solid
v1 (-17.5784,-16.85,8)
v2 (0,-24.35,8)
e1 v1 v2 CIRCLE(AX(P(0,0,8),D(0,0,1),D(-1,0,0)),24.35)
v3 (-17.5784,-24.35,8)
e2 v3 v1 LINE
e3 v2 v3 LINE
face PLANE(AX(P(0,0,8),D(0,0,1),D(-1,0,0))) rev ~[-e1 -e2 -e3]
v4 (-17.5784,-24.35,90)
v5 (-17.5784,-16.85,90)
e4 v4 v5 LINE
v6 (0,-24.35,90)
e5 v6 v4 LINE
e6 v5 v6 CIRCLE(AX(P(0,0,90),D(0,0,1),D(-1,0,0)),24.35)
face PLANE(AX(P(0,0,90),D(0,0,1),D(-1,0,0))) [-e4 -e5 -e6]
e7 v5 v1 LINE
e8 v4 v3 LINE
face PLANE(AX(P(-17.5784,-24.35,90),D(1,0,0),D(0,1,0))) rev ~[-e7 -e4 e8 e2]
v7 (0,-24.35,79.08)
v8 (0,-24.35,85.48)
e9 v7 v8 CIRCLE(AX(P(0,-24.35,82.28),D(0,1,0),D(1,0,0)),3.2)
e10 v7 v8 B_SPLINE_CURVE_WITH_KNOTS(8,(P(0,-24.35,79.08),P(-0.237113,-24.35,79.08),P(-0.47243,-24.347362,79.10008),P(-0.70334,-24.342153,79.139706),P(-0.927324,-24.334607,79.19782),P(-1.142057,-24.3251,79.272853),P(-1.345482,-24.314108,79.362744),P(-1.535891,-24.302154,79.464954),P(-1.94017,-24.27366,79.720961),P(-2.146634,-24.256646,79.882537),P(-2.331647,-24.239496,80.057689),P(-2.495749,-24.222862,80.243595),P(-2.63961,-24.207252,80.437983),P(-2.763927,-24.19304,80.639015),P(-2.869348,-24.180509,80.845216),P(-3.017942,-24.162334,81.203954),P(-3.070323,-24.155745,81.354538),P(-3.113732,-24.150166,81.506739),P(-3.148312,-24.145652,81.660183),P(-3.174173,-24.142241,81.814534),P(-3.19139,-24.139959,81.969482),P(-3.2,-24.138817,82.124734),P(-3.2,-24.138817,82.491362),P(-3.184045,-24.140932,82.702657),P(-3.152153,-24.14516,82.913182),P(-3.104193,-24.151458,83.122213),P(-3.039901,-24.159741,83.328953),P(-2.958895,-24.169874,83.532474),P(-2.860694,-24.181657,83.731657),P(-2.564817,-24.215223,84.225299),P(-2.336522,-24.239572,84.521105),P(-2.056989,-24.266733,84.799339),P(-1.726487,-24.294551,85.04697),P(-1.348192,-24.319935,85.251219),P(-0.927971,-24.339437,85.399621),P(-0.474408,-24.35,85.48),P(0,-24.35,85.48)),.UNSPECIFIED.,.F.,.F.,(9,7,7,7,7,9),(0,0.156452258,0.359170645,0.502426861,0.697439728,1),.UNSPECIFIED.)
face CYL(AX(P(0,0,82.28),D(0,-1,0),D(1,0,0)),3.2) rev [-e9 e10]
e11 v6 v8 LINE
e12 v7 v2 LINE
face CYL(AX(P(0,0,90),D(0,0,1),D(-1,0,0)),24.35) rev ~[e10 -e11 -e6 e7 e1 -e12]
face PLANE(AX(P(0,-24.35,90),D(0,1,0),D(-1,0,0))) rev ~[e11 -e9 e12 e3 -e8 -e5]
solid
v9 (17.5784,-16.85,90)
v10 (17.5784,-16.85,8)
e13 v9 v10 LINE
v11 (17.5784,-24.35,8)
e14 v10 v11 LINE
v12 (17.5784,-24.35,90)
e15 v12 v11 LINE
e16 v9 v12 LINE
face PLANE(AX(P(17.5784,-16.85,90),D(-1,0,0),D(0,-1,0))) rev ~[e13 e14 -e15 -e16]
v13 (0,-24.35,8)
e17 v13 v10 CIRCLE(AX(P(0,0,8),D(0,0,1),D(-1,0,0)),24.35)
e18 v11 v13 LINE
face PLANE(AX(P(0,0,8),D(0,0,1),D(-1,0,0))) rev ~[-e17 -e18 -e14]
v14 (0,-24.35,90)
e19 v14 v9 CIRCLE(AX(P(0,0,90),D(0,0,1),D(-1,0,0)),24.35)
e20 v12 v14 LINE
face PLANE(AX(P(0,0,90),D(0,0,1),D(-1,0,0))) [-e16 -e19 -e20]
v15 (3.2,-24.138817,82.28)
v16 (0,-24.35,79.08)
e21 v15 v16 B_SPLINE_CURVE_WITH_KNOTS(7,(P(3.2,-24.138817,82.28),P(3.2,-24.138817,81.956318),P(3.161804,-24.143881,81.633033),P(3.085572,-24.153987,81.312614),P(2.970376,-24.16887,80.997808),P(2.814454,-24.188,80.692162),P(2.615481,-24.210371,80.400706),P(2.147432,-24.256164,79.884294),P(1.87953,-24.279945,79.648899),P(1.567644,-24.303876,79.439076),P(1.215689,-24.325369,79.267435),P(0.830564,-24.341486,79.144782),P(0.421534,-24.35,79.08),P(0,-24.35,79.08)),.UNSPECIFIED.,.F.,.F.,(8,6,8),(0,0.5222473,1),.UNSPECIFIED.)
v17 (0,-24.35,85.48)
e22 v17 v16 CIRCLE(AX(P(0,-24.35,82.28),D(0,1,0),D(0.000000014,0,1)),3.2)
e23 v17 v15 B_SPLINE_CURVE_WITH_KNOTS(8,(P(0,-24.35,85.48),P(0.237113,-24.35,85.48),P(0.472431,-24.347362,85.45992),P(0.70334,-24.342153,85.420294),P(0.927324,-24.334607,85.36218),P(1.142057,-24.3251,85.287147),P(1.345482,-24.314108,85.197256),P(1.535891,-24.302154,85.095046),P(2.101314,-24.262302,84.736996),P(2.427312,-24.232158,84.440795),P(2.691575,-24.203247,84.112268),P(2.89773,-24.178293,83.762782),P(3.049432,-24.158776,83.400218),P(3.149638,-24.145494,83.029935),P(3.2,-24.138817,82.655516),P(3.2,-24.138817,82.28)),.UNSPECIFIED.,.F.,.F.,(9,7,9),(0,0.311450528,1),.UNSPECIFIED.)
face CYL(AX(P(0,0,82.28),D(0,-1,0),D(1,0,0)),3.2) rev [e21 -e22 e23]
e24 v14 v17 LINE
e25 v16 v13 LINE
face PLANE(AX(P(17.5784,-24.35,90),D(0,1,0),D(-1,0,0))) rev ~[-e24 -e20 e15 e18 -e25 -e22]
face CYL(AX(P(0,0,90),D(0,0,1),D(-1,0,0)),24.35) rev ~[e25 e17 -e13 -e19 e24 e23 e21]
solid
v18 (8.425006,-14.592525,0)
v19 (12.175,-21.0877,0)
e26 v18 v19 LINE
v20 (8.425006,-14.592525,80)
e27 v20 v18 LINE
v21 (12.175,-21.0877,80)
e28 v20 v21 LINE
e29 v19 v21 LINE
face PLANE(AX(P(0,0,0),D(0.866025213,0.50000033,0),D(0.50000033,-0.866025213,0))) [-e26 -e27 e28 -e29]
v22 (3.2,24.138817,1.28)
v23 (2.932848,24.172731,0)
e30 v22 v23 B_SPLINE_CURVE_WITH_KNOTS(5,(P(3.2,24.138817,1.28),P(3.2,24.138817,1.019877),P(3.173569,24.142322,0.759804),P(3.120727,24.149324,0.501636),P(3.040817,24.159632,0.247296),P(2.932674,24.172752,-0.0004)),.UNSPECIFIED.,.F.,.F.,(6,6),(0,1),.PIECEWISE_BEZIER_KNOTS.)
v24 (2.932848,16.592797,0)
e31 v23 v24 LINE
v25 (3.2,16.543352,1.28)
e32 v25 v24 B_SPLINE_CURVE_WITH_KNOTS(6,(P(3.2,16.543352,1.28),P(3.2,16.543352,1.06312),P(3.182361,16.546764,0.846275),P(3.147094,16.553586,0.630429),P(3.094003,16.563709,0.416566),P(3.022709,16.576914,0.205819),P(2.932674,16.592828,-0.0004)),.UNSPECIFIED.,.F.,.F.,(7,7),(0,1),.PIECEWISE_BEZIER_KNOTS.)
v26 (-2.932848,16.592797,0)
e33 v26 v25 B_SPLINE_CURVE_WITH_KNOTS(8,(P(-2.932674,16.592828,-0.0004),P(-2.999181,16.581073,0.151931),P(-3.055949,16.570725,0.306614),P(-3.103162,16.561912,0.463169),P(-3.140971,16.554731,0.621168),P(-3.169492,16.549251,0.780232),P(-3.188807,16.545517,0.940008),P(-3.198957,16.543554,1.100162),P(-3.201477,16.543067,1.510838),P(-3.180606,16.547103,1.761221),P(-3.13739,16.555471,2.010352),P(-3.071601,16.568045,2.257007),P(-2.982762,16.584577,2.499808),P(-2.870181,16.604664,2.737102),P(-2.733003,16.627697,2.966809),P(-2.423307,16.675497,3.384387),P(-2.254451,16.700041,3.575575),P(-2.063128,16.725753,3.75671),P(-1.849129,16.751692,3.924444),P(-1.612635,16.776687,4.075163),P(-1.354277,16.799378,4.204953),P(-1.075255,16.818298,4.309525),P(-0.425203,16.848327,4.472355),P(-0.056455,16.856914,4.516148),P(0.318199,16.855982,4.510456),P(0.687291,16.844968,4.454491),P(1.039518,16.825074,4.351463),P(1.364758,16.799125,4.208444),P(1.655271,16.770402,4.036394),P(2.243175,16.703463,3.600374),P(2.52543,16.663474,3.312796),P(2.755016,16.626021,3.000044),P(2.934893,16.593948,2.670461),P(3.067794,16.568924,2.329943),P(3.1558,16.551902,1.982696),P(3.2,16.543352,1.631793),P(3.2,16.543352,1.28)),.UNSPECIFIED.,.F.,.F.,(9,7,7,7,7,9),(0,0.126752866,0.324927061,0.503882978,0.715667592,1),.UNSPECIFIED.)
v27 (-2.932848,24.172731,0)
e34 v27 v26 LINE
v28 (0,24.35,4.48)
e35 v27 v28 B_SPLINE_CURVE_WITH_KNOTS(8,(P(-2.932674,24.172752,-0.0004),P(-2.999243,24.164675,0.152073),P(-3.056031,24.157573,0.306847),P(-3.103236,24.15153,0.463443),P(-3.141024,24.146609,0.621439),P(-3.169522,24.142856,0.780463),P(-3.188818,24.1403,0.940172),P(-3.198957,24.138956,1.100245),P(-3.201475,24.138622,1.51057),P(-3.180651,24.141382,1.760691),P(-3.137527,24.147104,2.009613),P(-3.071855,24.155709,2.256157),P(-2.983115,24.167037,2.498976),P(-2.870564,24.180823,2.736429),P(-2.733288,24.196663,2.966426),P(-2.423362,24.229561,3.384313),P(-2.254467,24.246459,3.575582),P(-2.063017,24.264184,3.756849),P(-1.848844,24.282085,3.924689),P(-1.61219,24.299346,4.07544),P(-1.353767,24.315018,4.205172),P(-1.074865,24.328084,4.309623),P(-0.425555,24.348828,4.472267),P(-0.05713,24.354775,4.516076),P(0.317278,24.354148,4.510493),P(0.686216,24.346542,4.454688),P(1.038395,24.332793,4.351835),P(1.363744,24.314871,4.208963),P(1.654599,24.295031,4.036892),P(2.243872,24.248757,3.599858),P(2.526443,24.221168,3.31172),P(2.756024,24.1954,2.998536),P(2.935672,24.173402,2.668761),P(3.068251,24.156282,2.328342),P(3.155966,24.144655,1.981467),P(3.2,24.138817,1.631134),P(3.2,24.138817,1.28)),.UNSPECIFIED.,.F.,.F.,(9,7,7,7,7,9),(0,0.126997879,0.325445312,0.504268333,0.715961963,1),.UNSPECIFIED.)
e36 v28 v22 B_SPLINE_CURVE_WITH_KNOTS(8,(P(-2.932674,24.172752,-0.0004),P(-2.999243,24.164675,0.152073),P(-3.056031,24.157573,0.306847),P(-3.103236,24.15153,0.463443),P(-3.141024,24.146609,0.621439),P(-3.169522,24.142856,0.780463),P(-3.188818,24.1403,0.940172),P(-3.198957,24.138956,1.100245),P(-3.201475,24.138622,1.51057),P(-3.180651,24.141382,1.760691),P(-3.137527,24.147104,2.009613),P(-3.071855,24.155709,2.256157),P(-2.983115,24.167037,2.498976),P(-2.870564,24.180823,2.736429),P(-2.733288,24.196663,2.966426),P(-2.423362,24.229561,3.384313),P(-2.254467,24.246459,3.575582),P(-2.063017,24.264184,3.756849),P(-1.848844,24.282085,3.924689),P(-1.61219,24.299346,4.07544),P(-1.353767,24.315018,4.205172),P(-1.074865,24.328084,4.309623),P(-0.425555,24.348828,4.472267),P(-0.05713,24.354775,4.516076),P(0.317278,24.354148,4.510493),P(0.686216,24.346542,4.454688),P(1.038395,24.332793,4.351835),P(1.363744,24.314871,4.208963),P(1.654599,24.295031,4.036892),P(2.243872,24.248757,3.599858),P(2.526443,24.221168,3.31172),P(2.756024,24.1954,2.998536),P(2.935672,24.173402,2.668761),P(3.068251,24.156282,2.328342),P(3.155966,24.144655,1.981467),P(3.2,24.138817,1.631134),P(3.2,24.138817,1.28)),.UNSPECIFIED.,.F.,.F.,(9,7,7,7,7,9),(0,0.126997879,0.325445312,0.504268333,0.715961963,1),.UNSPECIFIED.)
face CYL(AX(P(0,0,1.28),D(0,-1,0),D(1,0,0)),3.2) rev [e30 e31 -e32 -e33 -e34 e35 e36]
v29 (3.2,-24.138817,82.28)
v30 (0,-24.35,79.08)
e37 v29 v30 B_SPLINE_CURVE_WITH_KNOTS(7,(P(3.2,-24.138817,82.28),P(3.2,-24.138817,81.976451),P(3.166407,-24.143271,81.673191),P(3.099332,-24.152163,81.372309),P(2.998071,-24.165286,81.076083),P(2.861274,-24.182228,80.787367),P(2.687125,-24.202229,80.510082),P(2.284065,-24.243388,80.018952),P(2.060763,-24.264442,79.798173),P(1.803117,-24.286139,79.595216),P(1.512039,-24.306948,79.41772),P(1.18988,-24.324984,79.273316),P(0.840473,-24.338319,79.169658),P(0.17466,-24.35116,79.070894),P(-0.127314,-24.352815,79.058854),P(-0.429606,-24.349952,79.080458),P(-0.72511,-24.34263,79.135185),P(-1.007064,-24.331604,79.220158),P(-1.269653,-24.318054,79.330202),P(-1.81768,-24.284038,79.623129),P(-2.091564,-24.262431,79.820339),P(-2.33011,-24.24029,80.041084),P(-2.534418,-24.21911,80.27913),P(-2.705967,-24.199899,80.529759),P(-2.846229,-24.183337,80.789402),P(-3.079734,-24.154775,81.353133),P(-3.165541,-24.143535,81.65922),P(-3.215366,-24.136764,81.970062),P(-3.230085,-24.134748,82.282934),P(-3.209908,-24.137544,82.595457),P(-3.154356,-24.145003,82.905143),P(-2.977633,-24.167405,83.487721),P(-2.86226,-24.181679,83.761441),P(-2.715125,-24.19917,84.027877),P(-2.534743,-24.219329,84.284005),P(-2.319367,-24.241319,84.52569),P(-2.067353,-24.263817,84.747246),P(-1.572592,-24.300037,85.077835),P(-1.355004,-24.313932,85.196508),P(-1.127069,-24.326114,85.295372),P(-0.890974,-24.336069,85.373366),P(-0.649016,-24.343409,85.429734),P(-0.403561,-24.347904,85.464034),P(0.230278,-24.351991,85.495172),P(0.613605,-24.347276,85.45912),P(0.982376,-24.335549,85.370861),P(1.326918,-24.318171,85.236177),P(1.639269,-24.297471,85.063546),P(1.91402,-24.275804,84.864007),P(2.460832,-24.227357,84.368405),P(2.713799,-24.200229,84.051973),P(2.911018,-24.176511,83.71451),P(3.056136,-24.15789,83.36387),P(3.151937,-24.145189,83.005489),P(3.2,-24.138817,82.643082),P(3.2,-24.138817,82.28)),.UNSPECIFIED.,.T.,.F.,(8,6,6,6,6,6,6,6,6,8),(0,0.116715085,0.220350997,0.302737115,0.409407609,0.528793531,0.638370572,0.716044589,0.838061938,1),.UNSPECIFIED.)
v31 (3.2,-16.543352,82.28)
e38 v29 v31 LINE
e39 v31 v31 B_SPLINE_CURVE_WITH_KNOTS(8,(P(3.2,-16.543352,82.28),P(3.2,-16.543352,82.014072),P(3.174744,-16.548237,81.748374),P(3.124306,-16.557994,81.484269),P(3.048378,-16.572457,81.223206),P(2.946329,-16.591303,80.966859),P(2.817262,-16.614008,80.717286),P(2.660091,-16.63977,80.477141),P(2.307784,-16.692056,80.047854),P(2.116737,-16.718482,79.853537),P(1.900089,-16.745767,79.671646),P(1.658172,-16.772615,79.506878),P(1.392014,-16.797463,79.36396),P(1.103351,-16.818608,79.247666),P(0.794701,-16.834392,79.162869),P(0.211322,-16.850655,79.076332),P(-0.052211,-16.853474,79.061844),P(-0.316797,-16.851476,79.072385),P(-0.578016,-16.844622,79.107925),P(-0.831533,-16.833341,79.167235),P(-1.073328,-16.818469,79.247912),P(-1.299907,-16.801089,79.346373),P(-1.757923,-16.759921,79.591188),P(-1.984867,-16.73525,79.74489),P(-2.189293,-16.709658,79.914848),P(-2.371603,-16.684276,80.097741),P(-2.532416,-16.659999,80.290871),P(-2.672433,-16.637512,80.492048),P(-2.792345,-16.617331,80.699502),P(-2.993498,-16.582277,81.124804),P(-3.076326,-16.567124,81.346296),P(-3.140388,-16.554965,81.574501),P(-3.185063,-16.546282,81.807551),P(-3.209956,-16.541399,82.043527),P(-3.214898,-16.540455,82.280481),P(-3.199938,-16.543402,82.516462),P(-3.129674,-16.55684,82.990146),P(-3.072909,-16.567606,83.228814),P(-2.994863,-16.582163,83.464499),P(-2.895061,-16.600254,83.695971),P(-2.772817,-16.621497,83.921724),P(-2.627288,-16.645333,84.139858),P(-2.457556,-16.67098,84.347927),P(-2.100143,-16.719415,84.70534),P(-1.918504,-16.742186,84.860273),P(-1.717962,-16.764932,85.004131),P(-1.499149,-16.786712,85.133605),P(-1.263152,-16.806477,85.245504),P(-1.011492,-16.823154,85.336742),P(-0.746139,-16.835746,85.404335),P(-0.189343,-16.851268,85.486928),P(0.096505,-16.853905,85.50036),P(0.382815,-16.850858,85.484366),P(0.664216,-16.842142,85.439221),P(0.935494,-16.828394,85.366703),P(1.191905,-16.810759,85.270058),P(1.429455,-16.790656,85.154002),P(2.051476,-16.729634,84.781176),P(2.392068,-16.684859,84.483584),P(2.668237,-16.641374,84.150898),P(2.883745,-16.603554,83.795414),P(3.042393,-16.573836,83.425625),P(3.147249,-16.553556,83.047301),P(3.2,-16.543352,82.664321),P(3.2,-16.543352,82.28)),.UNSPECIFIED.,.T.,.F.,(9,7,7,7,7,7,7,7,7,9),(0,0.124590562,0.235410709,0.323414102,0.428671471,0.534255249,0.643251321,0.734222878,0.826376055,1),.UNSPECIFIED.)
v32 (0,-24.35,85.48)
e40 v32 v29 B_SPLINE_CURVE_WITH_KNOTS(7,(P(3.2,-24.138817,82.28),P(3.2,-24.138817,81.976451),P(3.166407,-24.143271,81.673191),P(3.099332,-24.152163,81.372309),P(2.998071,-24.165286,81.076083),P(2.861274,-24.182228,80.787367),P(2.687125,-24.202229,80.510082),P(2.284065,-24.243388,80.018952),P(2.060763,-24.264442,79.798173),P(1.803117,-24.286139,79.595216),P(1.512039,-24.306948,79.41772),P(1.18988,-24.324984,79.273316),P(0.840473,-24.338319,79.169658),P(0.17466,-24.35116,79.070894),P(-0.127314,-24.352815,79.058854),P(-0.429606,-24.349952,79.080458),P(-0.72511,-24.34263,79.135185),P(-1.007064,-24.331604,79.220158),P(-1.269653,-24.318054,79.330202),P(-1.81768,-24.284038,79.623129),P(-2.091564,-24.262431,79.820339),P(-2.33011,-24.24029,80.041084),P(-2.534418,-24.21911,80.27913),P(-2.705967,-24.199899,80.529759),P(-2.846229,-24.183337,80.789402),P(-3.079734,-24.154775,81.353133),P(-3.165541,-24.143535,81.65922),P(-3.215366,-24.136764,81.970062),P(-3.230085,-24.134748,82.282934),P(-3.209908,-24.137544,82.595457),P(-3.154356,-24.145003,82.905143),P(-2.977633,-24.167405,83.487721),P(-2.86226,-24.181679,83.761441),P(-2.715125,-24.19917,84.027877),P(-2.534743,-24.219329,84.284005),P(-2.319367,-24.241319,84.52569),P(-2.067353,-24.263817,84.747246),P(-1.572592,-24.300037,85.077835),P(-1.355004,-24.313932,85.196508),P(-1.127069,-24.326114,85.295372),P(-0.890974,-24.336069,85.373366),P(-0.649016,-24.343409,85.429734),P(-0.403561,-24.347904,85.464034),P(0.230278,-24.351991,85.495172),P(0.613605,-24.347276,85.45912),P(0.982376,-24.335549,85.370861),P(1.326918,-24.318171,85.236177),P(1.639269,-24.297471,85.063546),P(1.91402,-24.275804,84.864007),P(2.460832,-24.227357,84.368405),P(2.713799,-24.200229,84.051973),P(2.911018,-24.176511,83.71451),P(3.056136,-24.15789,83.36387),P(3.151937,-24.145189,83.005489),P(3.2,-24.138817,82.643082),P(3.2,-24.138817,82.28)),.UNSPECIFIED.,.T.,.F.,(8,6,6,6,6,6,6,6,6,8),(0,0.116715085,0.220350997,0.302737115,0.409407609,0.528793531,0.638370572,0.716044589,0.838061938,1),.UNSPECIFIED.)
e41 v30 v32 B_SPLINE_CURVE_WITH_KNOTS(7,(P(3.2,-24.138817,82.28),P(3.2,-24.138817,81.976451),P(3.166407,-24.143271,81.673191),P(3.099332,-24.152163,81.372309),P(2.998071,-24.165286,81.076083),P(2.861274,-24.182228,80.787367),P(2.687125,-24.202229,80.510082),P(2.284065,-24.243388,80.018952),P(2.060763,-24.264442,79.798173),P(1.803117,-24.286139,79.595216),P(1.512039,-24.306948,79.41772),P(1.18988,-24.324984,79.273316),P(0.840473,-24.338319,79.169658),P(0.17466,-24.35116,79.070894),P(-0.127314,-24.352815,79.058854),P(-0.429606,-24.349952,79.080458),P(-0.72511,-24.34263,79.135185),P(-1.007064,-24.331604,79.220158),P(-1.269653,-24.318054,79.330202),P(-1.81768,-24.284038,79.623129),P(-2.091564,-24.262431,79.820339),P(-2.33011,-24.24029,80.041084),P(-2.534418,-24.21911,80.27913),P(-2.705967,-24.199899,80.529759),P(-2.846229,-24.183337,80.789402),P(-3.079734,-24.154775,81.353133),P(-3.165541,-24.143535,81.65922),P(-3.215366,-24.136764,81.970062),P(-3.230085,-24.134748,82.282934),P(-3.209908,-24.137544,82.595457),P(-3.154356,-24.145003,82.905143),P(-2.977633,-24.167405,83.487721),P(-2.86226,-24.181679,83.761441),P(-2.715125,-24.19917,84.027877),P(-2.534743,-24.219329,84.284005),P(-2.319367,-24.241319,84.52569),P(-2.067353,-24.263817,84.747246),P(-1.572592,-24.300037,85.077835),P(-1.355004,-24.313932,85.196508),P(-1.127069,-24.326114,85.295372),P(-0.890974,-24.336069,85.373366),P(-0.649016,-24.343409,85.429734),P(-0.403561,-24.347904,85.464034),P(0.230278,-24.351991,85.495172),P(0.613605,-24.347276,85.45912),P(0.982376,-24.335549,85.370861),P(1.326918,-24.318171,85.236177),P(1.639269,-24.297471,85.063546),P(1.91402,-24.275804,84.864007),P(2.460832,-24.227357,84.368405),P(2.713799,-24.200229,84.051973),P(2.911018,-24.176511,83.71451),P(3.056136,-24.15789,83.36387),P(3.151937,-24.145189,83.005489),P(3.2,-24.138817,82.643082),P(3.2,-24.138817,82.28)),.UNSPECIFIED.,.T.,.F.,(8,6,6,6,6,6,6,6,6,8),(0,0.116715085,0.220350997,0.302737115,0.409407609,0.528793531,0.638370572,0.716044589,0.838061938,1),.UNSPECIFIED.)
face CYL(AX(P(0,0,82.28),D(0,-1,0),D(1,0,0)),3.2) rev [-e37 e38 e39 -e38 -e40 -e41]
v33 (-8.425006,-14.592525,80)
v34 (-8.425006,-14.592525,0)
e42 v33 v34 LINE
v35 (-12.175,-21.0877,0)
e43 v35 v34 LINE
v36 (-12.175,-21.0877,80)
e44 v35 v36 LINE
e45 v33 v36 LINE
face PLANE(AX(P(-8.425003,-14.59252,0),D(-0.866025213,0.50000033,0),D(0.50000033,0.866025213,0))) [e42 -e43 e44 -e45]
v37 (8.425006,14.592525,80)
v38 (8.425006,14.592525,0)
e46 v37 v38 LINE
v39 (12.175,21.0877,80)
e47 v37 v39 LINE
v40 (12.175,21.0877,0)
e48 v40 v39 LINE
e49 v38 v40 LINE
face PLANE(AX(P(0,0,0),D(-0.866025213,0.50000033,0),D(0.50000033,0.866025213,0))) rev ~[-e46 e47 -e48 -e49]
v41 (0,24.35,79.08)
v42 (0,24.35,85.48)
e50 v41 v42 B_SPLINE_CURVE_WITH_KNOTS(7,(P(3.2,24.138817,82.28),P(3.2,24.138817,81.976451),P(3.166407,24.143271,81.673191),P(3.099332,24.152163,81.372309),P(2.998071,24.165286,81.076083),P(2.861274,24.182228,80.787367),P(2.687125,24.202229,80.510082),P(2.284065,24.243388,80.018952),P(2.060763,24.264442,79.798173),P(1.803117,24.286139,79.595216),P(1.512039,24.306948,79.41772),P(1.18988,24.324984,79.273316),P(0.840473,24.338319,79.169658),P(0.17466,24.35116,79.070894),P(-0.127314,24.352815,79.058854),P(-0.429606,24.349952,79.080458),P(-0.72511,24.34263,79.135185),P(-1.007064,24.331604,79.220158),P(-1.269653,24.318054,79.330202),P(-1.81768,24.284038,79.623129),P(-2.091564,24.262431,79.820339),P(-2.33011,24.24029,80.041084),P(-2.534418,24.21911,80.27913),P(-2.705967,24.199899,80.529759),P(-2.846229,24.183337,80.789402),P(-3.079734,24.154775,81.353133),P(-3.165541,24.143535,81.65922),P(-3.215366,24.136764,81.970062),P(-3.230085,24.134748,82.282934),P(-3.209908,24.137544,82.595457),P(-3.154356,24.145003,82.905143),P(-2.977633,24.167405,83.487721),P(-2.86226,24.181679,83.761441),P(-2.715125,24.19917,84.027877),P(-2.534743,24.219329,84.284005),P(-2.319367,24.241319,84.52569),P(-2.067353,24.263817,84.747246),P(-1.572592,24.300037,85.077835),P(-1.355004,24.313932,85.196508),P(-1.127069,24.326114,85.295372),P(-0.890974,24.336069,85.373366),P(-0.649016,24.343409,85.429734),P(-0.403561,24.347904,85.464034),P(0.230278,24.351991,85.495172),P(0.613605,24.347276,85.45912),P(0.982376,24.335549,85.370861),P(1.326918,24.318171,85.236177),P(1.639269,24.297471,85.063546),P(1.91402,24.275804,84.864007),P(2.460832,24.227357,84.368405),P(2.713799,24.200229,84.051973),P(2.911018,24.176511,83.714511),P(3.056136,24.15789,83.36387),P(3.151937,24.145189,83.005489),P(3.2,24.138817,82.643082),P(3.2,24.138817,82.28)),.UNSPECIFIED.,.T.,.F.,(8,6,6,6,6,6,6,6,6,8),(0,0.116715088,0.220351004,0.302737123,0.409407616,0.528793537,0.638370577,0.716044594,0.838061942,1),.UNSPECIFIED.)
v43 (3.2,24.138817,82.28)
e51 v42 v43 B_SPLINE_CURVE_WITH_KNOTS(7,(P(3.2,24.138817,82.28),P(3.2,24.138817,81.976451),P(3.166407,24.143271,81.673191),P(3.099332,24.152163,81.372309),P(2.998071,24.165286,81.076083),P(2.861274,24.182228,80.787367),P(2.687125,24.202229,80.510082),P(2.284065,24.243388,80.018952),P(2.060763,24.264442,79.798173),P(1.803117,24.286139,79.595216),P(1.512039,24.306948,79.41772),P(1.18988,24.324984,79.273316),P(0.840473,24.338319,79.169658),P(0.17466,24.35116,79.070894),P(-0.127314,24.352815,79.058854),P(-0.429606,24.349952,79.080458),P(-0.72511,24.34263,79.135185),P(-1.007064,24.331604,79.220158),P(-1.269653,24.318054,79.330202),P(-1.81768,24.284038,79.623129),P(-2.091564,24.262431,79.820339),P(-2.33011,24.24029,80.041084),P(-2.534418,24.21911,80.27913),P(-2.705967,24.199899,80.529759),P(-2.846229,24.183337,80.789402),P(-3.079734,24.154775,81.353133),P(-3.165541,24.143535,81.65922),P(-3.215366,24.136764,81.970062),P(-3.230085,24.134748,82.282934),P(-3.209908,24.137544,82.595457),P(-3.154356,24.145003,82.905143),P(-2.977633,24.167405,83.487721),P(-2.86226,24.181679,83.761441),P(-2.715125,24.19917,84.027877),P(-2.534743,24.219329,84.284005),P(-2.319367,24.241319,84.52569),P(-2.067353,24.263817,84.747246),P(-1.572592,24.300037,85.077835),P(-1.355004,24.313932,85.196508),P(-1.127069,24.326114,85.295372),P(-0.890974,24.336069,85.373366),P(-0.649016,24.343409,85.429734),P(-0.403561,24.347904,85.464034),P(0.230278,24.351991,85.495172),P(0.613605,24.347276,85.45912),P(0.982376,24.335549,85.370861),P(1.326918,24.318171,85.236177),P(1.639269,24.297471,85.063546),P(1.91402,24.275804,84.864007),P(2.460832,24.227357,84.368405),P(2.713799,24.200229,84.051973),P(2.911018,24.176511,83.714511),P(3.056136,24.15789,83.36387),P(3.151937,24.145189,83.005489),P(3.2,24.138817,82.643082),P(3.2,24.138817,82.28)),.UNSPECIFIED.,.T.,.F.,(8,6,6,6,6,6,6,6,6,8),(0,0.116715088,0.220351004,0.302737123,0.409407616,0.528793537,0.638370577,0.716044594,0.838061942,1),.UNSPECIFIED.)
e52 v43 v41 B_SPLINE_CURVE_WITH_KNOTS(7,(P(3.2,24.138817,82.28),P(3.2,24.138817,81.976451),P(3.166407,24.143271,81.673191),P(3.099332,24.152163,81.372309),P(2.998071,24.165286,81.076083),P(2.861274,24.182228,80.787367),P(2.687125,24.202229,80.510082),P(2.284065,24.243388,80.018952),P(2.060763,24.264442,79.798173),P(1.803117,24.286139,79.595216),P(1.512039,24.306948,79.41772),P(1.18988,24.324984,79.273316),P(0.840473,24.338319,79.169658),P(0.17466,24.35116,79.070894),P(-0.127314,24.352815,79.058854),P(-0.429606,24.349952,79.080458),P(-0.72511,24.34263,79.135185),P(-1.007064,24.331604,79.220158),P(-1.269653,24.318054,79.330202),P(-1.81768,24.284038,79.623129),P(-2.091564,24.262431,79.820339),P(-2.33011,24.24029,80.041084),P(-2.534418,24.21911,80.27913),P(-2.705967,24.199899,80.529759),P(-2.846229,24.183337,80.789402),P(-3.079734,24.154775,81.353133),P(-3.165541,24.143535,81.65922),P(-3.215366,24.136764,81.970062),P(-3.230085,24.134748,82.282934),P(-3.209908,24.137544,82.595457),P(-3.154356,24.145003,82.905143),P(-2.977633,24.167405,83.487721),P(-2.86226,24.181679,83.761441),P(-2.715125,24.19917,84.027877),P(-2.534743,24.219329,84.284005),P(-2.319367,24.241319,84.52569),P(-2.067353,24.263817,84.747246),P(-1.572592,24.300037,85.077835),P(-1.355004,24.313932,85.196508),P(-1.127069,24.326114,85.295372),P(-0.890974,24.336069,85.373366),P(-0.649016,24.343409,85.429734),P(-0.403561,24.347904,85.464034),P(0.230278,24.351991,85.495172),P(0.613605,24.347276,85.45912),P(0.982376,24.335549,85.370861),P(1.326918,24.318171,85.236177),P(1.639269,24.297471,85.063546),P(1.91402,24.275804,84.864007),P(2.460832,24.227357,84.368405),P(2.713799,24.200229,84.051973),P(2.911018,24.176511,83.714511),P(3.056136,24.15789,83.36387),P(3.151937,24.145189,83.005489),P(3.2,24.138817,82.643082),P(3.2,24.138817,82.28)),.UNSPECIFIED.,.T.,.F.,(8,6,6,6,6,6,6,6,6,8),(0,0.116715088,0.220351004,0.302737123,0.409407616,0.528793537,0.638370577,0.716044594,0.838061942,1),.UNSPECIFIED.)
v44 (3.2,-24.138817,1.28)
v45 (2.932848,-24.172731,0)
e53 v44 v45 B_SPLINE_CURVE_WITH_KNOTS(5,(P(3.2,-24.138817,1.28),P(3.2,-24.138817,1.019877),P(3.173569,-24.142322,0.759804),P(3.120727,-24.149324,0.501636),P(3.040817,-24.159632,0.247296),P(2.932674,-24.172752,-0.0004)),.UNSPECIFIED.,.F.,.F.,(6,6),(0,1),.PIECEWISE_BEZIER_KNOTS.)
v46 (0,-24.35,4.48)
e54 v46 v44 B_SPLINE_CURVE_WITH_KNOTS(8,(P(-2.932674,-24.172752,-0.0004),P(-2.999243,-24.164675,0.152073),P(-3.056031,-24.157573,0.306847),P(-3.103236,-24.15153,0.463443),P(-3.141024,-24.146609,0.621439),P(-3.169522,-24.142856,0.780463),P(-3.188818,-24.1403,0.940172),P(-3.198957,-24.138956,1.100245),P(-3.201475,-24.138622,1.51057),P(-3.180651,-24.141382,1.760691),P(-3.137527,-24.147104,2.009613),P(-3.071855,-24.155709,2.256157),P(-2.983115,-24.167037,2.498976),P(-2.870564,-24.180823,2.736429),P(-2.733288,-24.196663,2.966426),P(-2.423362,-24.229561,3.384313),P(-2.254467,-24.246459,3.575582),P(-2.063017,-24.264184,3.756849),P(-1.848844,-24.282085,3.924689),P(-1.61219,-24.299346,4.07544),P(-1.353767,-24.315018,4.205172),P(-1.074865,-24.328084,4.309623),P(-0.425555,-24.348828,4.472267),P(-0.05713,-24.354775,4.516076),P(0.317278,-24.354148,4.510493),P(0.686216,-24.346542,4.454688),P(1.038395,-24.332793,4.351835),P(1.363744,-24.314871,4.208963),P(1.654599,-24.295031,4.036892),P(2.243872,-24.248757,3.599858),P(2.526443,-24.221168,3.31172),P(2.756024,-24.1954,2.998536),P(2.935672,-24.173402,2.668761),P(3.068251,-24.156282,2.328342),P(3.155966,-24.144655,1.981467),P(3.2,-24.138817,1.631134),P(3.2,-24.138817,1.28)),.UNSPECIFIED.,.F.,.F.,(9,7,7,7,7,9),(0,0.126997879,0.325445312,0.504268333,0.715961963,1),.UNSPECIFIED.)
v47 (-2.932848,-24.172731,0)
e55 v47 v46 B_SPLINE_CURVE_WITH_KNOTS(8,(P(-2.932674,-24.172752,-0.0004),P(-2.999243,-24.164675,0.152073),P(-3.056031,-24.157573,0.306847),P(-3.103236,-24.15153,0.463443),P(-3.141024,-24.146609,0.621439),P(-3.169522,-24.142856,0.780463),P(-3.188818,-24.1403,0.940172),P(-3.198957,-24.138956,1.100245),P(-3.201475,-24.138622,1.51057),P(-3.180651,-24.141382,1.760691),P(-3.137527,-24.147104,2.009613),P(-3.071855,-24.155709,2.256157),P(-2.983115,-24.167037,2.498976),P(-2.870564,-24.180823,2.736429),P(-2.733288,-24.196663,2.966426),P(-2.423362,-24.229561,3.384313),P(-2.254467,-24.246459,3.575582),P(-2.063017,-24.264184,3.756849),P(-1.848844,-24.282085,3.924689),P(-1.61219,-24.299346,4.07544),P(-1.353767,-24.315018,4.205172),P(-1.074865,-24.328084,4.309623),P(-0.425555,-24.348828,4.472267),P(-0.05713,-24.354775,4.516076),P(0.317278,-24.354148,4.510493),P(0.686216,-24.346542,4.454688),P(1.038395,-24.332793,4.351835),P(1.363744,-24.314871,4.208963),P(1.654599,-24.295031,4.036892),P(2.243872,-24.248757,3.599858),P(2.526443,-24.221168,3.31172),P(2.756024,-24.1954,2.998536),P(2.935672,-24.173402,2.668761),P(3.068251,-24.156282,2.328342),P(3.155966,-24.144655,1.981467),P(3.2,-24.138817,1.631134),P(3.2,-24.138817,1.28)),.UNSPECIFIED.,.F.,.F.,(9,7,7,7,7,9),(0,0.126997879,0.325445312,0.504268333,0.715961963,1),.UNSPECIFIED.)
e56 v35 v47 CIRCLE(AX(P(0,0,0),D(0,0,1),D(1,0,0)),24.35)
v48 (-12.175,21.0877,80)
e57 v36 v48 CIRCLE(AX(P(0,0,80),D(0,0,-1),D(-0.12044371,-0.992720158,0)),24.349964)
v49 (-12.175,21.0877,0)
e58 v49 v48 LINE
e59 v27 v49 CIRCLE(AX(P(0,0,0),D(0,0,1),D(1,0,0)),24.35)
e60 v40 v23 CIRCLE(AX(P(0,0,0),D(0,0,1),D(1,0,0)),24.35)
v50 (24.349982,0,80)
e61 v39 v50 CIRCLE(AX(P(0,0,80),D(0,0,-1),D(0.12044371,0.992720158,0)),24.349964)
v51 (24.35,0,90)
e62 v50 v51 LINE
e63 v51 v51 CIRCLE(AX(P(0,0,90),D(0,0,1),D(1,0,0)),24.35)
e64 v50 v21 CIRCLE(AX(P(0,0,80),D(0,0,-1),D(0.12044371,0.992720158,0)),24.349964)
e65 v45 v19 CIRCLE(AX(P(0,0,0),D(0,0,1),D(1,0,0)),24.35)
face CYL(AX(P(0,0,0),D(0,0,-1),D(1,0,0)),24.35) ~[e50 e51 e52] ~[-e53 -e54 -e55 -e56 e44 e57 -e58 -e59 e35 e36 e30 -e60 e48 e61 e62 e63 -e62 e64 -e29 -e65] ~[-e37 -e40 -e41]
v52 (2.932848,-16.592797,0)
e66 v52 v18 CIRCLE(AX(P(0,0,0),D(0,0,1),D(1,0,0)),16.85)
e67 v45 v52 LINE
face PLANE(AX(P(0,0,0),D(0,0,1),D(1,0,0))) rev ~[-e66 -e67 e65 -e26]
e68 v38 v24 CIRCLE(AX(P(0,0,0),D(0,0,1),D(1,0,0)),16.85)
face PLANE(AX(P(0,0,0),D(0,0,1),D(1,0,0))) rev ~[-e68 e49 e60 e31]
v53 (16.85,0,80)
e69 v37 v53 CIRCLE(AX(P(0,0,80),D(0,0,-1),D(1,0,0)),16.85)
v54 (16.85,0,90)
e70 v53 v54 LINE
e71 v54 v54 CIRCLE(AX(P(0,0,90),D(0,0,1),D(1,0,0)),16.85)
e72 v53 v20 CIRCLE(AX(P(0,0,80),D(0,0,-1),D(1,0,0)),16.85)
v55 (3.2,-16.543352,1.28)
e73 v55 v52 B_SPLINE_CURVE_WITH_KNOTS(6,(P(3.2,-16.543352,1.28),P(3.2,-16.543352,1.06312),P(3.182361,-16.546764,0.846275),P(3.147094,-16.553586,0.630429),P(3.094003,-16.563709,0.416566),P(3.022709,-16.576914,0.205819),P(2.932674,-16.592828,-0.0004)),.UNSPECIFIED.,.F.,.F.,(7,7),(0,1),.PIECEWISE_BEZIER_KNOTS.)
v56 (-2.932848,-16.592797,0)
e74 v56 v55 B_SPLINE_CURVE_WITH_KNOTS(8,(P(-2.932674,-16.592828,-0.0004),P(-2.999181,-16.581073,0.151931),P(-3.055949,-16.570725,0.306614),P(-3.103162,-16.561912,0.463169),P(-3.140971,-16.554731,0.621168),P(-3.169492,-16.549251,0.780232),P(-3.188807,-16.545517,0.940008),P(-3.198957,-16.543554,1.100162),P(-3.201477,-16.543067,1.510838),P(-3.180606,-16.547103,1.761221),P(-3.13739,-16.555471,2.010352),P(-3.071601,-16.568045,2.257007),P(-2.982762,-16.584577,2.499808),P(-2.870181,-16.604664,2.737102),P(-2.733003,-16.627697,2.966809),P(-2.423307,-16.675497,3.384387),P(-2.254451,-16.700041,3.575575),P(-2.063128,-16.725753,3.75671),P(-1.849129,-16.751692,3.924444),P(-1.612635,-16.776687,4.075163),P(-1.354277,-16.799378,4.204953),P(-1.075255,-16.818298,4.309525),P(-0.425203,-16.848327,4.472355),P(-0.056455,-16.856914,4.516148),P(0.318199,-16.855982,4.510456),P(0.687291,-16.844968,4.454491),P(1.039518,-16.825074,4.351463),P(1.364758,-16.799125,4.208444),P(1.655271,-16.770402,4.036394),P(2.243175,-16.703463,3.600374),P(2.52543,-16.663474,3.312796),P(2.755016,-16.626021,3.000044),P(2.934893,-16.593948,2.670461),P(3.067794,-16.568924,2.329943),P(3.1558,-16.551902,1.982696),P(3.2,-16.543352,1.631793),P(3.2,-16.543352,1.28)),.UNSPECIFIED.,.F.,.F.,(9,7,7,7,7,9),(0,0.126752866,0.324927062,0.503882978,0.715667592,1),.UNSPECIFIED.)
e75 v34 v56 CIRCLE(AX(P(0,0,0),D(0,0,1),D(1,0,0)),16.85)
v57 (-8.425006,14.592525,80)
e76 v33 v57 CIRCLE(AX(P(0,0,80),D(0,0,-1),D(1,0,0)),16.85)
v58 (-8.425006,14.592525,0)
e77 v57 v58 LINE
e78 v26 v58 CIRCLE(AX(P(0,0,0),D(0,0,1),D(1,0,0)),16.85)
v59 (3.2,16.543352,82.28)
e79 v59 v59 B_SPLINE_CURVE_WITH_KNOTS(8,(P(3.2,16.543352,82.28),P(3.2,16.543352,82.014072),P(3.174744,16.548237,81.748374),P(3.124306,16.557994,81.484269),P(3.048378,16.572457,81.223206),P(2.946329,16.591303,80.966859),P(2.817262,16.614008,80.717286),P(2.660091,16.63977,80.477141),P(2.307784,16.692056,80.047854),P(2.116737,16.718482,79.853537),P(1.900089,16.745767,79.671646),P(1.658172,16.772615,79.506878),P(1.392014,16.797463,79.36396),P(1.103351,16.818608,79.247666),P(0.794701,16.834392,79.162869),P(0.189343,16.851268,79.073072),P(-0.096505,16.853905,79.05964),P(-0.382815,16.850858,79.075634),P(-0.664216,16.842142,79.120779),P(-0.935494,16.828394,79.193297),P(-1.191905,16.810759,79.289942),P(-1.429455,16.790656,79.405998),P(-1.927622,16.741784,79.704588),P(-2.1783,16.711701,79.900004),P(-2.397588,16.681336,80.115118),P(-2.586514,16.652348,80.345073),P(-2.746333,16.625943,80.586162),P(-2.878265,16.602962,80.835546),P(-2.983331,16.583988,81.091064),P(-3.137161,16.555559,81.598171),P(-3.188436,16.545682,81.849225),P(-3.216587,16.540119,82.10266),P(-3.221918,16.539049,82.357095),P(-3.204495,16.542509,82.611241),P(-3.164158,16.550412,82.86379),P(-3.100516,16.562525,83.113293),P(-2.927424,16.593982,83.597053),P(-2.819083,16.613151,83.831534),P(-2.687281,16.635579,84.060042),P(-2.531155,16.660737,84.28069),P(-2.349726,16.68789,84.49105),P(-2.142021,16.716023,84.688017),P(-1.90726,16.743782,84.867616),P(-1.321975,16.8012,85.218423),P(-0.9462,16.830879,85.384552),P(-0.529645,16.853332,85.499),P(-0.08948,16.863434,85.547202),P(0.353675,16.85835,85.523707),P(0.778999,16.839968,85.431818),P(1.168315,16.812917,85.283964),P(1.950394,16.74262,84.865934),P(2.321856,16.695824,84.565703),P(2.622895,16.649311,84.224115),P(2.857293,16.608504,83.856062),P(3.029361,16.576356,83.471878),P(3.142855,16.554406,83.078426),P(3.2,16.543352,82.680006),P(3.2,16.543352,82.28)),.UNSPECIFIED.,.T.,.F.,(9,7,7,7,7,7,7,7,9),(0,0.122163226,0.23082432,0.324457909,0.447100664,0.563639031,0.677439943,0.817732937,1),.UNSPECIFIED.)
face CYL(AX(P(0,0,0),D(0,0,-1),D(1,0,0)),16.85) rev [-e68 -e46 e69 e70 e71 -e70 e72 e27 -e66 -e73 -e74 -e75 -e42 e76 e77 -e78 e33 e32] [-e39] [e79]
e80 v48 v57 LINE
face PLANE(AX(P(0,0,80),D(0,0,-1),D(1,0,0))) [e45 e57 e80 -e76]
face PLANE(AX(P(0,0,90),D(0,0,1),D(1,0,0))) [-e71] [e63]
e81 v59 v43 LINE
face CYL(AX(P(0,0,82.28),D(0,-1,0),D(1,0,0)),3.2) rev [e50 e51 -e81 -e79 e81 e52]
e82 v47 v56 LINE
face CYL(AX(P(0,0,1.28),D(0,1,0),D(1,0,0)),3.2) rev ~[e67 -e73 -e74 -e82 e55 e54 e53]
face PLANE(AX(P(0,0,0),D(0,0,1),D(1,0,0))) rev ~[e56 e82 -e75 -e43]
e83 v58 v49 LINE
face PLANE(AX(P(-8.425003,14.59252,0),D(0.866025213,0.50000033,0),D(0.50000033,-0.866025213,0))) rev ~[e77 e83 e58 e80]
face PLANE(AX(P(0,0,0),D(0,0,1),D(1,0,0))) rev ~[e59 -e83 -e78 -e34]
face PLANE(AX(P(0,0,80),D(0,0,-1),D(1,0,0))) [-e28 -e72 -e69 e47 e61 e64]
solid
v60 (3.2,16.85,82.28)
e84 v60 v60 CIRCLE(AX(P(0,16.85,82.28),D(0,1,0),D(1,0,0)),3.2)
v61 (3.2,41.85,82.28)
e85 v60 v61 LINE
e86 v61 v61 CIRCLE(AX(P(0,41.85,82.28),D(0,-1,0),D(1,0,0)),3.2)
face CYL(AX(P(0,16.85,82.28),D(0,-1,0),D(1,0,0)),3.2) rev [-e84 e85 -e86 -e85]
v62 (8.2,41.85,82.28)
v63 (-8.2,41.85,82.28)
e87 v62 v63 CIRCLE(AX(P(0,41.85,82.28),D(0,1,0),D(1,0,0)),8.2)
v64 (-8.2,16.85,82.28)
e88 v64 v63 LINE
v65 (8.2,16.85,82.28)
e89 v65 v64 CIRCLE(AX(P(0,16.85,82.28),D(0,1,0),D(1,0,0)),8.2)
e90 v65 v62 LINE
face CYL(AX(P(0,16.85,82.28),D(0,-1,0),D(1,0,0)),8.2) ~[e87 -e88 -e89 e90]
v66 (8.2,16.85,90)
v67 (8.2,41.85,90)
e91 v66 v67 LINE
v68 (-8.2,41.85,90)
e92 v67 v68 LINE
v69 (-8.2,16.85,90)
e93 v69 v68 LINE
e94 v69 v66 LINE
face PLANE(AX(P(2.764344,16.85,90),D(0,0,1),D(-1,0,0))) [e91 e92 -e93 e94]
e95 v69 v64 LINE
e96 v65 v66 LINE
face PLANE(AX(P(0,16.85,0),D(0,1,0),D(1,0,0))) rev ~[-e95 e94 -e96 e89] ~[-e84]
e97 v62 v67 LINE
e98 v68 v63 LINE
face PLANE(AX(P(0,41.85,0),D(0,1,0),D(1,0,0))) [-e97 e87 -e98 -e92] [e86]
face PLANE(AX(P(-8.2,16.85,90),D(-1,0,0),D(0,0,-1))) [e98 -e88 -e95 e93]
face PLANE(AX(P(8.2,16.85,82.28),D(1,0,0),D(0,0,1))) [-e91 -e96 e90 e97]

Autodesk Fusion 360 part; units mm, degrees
sketch "Main Body" plane through (0, 0, 0) normal (0, 0, 1) x (1, 0, 0)
  circle A0 centre (0, 0) radius 16.85
  circle A1 centre (0, 0) radius 24.35
  dimension "d1" = 33.7
  dimension "d2" = 48.7
extrude "Extrude1" add sketch "Main Body" along normal blind 90 makes body 1
sketch "Cut Guide" plane through (0, 0, 0) normal (0, 1, 0) x (1, 0, 0)
  circle A0 centre (0, -1.28) radius 3.2
  circle A1 centre (0, -82.28) radius 3.2
  circle A2 centre (0, -82.28) radius 8.2
  line L0 (-8.2, -82.28) -> (8.2, -82.28)
  line L1 (8.2, -82.28) -> (8.2, -90)
  line L2 (8.2, -90) -> (-8.2, -90)
  line L3 (-8.2, -90) -> (-8.2, -82.28)
  point P0 (0, -41.6319)
  dimension "d5" = 6.4
  dimension "d6" = 1.28
  dimension "d11" = 6.4
  dimension "d12" = 81
  dimension "d13" = 16.4
  dimension "d33" = 7.72
extrude "Extrude2" cut sketch "Cut Guide" along normal blind 24.35 and the other way blind 24.35 contours A0 bodies 1
extrude "Extrude3" add sketch "Cut Guide" along normal blind 25 from surface at 16.85 separate body contours A1 A2 L0 L2 | A1 A2 L0 | A2 L1 L2 | A2 L2 L3 makes body 2
sketch "Side Removal" plane through (0, 0, 0) normal (0, 0, -1) x (1, 0, 0)
  line L0 (-2.9328, 16.5928) -> (-2.9328, 24.1727)
  arc A0 (-2.9328, 24.1727) -> (-2.9328, -24.1727) centre (0, 0) ccw
  line L1 (-2.9328, -24.1727) -> (-2.9328, -16.5928)
  arc A1 (-2.9328, 16.5928) -> (-2.9328, -16.5928) centre (0, 0) ccw
  line L2 (-12.175, -21.0877) -> (12.175, 21.0877)
  arc A2 (2.9328, -24.1727) -> (2.9328, 24.1727) centre (0, 0) ccw
  line L3 (-12.175, 21.0877) -> (12.175, -21.0877)
  dimension "d19" = 120
extrude "Extrude4" cut sketch "Side Removal" against normal blind 80 contours L2 A2 L3 | A1 L2 L3 | A0 A1 L2 L3 bodies 1
sketch "Flat Bottom" plane through (0, 0, 90) normal (0, 0, 1) x (-1, 0, 0)
  circle A0 centre (0, 0) radius 16.85
  circle A1 centre (0, 0) radius 24.35
  line L0 (17.5784, 16.85) -> (-17.5784, 16.85)
  line L1 (-17.5784, 16.85) -> (-17.5784, 24.35)
  line L2 (-17.5784, 24.35) -> (17.5784, 24.35)
  line L3 (17.5784, 24.35) -> (17.5784, 16.85)
extrude "Extrude6" add sketch "Flat Bottom" against normal blind 82 separate body contours A1 L2 L3 | A1 L1 L2 makes body 3 at (-13.3955, -20.3343, 35.3333)
extrude "Extrude7" cut sketch "Cut Guide" along normal blind 24.35 and the other way blind 24.35 contours A1 L0 | A1 L0 bodies 1 3
equation "d2 = d1 + 15 mm"
equation "d3 = 90 mm"
equation "d6 = d5 / 5"
equation "d7 = d2 / 2"
equation "d9 = d2 / 2"
equation "d13 = d11 + 10 mm"
equation "d16 = ( d1 ) / 2"
equation "d21 = -( d3 - 10 mm )"
equation "d27 = -d3 + 8 mm"
equation "d29 = d2 / 2"
equation "d31 = d2 / 2"
equation "d33 = d3 - d12 - d6"
